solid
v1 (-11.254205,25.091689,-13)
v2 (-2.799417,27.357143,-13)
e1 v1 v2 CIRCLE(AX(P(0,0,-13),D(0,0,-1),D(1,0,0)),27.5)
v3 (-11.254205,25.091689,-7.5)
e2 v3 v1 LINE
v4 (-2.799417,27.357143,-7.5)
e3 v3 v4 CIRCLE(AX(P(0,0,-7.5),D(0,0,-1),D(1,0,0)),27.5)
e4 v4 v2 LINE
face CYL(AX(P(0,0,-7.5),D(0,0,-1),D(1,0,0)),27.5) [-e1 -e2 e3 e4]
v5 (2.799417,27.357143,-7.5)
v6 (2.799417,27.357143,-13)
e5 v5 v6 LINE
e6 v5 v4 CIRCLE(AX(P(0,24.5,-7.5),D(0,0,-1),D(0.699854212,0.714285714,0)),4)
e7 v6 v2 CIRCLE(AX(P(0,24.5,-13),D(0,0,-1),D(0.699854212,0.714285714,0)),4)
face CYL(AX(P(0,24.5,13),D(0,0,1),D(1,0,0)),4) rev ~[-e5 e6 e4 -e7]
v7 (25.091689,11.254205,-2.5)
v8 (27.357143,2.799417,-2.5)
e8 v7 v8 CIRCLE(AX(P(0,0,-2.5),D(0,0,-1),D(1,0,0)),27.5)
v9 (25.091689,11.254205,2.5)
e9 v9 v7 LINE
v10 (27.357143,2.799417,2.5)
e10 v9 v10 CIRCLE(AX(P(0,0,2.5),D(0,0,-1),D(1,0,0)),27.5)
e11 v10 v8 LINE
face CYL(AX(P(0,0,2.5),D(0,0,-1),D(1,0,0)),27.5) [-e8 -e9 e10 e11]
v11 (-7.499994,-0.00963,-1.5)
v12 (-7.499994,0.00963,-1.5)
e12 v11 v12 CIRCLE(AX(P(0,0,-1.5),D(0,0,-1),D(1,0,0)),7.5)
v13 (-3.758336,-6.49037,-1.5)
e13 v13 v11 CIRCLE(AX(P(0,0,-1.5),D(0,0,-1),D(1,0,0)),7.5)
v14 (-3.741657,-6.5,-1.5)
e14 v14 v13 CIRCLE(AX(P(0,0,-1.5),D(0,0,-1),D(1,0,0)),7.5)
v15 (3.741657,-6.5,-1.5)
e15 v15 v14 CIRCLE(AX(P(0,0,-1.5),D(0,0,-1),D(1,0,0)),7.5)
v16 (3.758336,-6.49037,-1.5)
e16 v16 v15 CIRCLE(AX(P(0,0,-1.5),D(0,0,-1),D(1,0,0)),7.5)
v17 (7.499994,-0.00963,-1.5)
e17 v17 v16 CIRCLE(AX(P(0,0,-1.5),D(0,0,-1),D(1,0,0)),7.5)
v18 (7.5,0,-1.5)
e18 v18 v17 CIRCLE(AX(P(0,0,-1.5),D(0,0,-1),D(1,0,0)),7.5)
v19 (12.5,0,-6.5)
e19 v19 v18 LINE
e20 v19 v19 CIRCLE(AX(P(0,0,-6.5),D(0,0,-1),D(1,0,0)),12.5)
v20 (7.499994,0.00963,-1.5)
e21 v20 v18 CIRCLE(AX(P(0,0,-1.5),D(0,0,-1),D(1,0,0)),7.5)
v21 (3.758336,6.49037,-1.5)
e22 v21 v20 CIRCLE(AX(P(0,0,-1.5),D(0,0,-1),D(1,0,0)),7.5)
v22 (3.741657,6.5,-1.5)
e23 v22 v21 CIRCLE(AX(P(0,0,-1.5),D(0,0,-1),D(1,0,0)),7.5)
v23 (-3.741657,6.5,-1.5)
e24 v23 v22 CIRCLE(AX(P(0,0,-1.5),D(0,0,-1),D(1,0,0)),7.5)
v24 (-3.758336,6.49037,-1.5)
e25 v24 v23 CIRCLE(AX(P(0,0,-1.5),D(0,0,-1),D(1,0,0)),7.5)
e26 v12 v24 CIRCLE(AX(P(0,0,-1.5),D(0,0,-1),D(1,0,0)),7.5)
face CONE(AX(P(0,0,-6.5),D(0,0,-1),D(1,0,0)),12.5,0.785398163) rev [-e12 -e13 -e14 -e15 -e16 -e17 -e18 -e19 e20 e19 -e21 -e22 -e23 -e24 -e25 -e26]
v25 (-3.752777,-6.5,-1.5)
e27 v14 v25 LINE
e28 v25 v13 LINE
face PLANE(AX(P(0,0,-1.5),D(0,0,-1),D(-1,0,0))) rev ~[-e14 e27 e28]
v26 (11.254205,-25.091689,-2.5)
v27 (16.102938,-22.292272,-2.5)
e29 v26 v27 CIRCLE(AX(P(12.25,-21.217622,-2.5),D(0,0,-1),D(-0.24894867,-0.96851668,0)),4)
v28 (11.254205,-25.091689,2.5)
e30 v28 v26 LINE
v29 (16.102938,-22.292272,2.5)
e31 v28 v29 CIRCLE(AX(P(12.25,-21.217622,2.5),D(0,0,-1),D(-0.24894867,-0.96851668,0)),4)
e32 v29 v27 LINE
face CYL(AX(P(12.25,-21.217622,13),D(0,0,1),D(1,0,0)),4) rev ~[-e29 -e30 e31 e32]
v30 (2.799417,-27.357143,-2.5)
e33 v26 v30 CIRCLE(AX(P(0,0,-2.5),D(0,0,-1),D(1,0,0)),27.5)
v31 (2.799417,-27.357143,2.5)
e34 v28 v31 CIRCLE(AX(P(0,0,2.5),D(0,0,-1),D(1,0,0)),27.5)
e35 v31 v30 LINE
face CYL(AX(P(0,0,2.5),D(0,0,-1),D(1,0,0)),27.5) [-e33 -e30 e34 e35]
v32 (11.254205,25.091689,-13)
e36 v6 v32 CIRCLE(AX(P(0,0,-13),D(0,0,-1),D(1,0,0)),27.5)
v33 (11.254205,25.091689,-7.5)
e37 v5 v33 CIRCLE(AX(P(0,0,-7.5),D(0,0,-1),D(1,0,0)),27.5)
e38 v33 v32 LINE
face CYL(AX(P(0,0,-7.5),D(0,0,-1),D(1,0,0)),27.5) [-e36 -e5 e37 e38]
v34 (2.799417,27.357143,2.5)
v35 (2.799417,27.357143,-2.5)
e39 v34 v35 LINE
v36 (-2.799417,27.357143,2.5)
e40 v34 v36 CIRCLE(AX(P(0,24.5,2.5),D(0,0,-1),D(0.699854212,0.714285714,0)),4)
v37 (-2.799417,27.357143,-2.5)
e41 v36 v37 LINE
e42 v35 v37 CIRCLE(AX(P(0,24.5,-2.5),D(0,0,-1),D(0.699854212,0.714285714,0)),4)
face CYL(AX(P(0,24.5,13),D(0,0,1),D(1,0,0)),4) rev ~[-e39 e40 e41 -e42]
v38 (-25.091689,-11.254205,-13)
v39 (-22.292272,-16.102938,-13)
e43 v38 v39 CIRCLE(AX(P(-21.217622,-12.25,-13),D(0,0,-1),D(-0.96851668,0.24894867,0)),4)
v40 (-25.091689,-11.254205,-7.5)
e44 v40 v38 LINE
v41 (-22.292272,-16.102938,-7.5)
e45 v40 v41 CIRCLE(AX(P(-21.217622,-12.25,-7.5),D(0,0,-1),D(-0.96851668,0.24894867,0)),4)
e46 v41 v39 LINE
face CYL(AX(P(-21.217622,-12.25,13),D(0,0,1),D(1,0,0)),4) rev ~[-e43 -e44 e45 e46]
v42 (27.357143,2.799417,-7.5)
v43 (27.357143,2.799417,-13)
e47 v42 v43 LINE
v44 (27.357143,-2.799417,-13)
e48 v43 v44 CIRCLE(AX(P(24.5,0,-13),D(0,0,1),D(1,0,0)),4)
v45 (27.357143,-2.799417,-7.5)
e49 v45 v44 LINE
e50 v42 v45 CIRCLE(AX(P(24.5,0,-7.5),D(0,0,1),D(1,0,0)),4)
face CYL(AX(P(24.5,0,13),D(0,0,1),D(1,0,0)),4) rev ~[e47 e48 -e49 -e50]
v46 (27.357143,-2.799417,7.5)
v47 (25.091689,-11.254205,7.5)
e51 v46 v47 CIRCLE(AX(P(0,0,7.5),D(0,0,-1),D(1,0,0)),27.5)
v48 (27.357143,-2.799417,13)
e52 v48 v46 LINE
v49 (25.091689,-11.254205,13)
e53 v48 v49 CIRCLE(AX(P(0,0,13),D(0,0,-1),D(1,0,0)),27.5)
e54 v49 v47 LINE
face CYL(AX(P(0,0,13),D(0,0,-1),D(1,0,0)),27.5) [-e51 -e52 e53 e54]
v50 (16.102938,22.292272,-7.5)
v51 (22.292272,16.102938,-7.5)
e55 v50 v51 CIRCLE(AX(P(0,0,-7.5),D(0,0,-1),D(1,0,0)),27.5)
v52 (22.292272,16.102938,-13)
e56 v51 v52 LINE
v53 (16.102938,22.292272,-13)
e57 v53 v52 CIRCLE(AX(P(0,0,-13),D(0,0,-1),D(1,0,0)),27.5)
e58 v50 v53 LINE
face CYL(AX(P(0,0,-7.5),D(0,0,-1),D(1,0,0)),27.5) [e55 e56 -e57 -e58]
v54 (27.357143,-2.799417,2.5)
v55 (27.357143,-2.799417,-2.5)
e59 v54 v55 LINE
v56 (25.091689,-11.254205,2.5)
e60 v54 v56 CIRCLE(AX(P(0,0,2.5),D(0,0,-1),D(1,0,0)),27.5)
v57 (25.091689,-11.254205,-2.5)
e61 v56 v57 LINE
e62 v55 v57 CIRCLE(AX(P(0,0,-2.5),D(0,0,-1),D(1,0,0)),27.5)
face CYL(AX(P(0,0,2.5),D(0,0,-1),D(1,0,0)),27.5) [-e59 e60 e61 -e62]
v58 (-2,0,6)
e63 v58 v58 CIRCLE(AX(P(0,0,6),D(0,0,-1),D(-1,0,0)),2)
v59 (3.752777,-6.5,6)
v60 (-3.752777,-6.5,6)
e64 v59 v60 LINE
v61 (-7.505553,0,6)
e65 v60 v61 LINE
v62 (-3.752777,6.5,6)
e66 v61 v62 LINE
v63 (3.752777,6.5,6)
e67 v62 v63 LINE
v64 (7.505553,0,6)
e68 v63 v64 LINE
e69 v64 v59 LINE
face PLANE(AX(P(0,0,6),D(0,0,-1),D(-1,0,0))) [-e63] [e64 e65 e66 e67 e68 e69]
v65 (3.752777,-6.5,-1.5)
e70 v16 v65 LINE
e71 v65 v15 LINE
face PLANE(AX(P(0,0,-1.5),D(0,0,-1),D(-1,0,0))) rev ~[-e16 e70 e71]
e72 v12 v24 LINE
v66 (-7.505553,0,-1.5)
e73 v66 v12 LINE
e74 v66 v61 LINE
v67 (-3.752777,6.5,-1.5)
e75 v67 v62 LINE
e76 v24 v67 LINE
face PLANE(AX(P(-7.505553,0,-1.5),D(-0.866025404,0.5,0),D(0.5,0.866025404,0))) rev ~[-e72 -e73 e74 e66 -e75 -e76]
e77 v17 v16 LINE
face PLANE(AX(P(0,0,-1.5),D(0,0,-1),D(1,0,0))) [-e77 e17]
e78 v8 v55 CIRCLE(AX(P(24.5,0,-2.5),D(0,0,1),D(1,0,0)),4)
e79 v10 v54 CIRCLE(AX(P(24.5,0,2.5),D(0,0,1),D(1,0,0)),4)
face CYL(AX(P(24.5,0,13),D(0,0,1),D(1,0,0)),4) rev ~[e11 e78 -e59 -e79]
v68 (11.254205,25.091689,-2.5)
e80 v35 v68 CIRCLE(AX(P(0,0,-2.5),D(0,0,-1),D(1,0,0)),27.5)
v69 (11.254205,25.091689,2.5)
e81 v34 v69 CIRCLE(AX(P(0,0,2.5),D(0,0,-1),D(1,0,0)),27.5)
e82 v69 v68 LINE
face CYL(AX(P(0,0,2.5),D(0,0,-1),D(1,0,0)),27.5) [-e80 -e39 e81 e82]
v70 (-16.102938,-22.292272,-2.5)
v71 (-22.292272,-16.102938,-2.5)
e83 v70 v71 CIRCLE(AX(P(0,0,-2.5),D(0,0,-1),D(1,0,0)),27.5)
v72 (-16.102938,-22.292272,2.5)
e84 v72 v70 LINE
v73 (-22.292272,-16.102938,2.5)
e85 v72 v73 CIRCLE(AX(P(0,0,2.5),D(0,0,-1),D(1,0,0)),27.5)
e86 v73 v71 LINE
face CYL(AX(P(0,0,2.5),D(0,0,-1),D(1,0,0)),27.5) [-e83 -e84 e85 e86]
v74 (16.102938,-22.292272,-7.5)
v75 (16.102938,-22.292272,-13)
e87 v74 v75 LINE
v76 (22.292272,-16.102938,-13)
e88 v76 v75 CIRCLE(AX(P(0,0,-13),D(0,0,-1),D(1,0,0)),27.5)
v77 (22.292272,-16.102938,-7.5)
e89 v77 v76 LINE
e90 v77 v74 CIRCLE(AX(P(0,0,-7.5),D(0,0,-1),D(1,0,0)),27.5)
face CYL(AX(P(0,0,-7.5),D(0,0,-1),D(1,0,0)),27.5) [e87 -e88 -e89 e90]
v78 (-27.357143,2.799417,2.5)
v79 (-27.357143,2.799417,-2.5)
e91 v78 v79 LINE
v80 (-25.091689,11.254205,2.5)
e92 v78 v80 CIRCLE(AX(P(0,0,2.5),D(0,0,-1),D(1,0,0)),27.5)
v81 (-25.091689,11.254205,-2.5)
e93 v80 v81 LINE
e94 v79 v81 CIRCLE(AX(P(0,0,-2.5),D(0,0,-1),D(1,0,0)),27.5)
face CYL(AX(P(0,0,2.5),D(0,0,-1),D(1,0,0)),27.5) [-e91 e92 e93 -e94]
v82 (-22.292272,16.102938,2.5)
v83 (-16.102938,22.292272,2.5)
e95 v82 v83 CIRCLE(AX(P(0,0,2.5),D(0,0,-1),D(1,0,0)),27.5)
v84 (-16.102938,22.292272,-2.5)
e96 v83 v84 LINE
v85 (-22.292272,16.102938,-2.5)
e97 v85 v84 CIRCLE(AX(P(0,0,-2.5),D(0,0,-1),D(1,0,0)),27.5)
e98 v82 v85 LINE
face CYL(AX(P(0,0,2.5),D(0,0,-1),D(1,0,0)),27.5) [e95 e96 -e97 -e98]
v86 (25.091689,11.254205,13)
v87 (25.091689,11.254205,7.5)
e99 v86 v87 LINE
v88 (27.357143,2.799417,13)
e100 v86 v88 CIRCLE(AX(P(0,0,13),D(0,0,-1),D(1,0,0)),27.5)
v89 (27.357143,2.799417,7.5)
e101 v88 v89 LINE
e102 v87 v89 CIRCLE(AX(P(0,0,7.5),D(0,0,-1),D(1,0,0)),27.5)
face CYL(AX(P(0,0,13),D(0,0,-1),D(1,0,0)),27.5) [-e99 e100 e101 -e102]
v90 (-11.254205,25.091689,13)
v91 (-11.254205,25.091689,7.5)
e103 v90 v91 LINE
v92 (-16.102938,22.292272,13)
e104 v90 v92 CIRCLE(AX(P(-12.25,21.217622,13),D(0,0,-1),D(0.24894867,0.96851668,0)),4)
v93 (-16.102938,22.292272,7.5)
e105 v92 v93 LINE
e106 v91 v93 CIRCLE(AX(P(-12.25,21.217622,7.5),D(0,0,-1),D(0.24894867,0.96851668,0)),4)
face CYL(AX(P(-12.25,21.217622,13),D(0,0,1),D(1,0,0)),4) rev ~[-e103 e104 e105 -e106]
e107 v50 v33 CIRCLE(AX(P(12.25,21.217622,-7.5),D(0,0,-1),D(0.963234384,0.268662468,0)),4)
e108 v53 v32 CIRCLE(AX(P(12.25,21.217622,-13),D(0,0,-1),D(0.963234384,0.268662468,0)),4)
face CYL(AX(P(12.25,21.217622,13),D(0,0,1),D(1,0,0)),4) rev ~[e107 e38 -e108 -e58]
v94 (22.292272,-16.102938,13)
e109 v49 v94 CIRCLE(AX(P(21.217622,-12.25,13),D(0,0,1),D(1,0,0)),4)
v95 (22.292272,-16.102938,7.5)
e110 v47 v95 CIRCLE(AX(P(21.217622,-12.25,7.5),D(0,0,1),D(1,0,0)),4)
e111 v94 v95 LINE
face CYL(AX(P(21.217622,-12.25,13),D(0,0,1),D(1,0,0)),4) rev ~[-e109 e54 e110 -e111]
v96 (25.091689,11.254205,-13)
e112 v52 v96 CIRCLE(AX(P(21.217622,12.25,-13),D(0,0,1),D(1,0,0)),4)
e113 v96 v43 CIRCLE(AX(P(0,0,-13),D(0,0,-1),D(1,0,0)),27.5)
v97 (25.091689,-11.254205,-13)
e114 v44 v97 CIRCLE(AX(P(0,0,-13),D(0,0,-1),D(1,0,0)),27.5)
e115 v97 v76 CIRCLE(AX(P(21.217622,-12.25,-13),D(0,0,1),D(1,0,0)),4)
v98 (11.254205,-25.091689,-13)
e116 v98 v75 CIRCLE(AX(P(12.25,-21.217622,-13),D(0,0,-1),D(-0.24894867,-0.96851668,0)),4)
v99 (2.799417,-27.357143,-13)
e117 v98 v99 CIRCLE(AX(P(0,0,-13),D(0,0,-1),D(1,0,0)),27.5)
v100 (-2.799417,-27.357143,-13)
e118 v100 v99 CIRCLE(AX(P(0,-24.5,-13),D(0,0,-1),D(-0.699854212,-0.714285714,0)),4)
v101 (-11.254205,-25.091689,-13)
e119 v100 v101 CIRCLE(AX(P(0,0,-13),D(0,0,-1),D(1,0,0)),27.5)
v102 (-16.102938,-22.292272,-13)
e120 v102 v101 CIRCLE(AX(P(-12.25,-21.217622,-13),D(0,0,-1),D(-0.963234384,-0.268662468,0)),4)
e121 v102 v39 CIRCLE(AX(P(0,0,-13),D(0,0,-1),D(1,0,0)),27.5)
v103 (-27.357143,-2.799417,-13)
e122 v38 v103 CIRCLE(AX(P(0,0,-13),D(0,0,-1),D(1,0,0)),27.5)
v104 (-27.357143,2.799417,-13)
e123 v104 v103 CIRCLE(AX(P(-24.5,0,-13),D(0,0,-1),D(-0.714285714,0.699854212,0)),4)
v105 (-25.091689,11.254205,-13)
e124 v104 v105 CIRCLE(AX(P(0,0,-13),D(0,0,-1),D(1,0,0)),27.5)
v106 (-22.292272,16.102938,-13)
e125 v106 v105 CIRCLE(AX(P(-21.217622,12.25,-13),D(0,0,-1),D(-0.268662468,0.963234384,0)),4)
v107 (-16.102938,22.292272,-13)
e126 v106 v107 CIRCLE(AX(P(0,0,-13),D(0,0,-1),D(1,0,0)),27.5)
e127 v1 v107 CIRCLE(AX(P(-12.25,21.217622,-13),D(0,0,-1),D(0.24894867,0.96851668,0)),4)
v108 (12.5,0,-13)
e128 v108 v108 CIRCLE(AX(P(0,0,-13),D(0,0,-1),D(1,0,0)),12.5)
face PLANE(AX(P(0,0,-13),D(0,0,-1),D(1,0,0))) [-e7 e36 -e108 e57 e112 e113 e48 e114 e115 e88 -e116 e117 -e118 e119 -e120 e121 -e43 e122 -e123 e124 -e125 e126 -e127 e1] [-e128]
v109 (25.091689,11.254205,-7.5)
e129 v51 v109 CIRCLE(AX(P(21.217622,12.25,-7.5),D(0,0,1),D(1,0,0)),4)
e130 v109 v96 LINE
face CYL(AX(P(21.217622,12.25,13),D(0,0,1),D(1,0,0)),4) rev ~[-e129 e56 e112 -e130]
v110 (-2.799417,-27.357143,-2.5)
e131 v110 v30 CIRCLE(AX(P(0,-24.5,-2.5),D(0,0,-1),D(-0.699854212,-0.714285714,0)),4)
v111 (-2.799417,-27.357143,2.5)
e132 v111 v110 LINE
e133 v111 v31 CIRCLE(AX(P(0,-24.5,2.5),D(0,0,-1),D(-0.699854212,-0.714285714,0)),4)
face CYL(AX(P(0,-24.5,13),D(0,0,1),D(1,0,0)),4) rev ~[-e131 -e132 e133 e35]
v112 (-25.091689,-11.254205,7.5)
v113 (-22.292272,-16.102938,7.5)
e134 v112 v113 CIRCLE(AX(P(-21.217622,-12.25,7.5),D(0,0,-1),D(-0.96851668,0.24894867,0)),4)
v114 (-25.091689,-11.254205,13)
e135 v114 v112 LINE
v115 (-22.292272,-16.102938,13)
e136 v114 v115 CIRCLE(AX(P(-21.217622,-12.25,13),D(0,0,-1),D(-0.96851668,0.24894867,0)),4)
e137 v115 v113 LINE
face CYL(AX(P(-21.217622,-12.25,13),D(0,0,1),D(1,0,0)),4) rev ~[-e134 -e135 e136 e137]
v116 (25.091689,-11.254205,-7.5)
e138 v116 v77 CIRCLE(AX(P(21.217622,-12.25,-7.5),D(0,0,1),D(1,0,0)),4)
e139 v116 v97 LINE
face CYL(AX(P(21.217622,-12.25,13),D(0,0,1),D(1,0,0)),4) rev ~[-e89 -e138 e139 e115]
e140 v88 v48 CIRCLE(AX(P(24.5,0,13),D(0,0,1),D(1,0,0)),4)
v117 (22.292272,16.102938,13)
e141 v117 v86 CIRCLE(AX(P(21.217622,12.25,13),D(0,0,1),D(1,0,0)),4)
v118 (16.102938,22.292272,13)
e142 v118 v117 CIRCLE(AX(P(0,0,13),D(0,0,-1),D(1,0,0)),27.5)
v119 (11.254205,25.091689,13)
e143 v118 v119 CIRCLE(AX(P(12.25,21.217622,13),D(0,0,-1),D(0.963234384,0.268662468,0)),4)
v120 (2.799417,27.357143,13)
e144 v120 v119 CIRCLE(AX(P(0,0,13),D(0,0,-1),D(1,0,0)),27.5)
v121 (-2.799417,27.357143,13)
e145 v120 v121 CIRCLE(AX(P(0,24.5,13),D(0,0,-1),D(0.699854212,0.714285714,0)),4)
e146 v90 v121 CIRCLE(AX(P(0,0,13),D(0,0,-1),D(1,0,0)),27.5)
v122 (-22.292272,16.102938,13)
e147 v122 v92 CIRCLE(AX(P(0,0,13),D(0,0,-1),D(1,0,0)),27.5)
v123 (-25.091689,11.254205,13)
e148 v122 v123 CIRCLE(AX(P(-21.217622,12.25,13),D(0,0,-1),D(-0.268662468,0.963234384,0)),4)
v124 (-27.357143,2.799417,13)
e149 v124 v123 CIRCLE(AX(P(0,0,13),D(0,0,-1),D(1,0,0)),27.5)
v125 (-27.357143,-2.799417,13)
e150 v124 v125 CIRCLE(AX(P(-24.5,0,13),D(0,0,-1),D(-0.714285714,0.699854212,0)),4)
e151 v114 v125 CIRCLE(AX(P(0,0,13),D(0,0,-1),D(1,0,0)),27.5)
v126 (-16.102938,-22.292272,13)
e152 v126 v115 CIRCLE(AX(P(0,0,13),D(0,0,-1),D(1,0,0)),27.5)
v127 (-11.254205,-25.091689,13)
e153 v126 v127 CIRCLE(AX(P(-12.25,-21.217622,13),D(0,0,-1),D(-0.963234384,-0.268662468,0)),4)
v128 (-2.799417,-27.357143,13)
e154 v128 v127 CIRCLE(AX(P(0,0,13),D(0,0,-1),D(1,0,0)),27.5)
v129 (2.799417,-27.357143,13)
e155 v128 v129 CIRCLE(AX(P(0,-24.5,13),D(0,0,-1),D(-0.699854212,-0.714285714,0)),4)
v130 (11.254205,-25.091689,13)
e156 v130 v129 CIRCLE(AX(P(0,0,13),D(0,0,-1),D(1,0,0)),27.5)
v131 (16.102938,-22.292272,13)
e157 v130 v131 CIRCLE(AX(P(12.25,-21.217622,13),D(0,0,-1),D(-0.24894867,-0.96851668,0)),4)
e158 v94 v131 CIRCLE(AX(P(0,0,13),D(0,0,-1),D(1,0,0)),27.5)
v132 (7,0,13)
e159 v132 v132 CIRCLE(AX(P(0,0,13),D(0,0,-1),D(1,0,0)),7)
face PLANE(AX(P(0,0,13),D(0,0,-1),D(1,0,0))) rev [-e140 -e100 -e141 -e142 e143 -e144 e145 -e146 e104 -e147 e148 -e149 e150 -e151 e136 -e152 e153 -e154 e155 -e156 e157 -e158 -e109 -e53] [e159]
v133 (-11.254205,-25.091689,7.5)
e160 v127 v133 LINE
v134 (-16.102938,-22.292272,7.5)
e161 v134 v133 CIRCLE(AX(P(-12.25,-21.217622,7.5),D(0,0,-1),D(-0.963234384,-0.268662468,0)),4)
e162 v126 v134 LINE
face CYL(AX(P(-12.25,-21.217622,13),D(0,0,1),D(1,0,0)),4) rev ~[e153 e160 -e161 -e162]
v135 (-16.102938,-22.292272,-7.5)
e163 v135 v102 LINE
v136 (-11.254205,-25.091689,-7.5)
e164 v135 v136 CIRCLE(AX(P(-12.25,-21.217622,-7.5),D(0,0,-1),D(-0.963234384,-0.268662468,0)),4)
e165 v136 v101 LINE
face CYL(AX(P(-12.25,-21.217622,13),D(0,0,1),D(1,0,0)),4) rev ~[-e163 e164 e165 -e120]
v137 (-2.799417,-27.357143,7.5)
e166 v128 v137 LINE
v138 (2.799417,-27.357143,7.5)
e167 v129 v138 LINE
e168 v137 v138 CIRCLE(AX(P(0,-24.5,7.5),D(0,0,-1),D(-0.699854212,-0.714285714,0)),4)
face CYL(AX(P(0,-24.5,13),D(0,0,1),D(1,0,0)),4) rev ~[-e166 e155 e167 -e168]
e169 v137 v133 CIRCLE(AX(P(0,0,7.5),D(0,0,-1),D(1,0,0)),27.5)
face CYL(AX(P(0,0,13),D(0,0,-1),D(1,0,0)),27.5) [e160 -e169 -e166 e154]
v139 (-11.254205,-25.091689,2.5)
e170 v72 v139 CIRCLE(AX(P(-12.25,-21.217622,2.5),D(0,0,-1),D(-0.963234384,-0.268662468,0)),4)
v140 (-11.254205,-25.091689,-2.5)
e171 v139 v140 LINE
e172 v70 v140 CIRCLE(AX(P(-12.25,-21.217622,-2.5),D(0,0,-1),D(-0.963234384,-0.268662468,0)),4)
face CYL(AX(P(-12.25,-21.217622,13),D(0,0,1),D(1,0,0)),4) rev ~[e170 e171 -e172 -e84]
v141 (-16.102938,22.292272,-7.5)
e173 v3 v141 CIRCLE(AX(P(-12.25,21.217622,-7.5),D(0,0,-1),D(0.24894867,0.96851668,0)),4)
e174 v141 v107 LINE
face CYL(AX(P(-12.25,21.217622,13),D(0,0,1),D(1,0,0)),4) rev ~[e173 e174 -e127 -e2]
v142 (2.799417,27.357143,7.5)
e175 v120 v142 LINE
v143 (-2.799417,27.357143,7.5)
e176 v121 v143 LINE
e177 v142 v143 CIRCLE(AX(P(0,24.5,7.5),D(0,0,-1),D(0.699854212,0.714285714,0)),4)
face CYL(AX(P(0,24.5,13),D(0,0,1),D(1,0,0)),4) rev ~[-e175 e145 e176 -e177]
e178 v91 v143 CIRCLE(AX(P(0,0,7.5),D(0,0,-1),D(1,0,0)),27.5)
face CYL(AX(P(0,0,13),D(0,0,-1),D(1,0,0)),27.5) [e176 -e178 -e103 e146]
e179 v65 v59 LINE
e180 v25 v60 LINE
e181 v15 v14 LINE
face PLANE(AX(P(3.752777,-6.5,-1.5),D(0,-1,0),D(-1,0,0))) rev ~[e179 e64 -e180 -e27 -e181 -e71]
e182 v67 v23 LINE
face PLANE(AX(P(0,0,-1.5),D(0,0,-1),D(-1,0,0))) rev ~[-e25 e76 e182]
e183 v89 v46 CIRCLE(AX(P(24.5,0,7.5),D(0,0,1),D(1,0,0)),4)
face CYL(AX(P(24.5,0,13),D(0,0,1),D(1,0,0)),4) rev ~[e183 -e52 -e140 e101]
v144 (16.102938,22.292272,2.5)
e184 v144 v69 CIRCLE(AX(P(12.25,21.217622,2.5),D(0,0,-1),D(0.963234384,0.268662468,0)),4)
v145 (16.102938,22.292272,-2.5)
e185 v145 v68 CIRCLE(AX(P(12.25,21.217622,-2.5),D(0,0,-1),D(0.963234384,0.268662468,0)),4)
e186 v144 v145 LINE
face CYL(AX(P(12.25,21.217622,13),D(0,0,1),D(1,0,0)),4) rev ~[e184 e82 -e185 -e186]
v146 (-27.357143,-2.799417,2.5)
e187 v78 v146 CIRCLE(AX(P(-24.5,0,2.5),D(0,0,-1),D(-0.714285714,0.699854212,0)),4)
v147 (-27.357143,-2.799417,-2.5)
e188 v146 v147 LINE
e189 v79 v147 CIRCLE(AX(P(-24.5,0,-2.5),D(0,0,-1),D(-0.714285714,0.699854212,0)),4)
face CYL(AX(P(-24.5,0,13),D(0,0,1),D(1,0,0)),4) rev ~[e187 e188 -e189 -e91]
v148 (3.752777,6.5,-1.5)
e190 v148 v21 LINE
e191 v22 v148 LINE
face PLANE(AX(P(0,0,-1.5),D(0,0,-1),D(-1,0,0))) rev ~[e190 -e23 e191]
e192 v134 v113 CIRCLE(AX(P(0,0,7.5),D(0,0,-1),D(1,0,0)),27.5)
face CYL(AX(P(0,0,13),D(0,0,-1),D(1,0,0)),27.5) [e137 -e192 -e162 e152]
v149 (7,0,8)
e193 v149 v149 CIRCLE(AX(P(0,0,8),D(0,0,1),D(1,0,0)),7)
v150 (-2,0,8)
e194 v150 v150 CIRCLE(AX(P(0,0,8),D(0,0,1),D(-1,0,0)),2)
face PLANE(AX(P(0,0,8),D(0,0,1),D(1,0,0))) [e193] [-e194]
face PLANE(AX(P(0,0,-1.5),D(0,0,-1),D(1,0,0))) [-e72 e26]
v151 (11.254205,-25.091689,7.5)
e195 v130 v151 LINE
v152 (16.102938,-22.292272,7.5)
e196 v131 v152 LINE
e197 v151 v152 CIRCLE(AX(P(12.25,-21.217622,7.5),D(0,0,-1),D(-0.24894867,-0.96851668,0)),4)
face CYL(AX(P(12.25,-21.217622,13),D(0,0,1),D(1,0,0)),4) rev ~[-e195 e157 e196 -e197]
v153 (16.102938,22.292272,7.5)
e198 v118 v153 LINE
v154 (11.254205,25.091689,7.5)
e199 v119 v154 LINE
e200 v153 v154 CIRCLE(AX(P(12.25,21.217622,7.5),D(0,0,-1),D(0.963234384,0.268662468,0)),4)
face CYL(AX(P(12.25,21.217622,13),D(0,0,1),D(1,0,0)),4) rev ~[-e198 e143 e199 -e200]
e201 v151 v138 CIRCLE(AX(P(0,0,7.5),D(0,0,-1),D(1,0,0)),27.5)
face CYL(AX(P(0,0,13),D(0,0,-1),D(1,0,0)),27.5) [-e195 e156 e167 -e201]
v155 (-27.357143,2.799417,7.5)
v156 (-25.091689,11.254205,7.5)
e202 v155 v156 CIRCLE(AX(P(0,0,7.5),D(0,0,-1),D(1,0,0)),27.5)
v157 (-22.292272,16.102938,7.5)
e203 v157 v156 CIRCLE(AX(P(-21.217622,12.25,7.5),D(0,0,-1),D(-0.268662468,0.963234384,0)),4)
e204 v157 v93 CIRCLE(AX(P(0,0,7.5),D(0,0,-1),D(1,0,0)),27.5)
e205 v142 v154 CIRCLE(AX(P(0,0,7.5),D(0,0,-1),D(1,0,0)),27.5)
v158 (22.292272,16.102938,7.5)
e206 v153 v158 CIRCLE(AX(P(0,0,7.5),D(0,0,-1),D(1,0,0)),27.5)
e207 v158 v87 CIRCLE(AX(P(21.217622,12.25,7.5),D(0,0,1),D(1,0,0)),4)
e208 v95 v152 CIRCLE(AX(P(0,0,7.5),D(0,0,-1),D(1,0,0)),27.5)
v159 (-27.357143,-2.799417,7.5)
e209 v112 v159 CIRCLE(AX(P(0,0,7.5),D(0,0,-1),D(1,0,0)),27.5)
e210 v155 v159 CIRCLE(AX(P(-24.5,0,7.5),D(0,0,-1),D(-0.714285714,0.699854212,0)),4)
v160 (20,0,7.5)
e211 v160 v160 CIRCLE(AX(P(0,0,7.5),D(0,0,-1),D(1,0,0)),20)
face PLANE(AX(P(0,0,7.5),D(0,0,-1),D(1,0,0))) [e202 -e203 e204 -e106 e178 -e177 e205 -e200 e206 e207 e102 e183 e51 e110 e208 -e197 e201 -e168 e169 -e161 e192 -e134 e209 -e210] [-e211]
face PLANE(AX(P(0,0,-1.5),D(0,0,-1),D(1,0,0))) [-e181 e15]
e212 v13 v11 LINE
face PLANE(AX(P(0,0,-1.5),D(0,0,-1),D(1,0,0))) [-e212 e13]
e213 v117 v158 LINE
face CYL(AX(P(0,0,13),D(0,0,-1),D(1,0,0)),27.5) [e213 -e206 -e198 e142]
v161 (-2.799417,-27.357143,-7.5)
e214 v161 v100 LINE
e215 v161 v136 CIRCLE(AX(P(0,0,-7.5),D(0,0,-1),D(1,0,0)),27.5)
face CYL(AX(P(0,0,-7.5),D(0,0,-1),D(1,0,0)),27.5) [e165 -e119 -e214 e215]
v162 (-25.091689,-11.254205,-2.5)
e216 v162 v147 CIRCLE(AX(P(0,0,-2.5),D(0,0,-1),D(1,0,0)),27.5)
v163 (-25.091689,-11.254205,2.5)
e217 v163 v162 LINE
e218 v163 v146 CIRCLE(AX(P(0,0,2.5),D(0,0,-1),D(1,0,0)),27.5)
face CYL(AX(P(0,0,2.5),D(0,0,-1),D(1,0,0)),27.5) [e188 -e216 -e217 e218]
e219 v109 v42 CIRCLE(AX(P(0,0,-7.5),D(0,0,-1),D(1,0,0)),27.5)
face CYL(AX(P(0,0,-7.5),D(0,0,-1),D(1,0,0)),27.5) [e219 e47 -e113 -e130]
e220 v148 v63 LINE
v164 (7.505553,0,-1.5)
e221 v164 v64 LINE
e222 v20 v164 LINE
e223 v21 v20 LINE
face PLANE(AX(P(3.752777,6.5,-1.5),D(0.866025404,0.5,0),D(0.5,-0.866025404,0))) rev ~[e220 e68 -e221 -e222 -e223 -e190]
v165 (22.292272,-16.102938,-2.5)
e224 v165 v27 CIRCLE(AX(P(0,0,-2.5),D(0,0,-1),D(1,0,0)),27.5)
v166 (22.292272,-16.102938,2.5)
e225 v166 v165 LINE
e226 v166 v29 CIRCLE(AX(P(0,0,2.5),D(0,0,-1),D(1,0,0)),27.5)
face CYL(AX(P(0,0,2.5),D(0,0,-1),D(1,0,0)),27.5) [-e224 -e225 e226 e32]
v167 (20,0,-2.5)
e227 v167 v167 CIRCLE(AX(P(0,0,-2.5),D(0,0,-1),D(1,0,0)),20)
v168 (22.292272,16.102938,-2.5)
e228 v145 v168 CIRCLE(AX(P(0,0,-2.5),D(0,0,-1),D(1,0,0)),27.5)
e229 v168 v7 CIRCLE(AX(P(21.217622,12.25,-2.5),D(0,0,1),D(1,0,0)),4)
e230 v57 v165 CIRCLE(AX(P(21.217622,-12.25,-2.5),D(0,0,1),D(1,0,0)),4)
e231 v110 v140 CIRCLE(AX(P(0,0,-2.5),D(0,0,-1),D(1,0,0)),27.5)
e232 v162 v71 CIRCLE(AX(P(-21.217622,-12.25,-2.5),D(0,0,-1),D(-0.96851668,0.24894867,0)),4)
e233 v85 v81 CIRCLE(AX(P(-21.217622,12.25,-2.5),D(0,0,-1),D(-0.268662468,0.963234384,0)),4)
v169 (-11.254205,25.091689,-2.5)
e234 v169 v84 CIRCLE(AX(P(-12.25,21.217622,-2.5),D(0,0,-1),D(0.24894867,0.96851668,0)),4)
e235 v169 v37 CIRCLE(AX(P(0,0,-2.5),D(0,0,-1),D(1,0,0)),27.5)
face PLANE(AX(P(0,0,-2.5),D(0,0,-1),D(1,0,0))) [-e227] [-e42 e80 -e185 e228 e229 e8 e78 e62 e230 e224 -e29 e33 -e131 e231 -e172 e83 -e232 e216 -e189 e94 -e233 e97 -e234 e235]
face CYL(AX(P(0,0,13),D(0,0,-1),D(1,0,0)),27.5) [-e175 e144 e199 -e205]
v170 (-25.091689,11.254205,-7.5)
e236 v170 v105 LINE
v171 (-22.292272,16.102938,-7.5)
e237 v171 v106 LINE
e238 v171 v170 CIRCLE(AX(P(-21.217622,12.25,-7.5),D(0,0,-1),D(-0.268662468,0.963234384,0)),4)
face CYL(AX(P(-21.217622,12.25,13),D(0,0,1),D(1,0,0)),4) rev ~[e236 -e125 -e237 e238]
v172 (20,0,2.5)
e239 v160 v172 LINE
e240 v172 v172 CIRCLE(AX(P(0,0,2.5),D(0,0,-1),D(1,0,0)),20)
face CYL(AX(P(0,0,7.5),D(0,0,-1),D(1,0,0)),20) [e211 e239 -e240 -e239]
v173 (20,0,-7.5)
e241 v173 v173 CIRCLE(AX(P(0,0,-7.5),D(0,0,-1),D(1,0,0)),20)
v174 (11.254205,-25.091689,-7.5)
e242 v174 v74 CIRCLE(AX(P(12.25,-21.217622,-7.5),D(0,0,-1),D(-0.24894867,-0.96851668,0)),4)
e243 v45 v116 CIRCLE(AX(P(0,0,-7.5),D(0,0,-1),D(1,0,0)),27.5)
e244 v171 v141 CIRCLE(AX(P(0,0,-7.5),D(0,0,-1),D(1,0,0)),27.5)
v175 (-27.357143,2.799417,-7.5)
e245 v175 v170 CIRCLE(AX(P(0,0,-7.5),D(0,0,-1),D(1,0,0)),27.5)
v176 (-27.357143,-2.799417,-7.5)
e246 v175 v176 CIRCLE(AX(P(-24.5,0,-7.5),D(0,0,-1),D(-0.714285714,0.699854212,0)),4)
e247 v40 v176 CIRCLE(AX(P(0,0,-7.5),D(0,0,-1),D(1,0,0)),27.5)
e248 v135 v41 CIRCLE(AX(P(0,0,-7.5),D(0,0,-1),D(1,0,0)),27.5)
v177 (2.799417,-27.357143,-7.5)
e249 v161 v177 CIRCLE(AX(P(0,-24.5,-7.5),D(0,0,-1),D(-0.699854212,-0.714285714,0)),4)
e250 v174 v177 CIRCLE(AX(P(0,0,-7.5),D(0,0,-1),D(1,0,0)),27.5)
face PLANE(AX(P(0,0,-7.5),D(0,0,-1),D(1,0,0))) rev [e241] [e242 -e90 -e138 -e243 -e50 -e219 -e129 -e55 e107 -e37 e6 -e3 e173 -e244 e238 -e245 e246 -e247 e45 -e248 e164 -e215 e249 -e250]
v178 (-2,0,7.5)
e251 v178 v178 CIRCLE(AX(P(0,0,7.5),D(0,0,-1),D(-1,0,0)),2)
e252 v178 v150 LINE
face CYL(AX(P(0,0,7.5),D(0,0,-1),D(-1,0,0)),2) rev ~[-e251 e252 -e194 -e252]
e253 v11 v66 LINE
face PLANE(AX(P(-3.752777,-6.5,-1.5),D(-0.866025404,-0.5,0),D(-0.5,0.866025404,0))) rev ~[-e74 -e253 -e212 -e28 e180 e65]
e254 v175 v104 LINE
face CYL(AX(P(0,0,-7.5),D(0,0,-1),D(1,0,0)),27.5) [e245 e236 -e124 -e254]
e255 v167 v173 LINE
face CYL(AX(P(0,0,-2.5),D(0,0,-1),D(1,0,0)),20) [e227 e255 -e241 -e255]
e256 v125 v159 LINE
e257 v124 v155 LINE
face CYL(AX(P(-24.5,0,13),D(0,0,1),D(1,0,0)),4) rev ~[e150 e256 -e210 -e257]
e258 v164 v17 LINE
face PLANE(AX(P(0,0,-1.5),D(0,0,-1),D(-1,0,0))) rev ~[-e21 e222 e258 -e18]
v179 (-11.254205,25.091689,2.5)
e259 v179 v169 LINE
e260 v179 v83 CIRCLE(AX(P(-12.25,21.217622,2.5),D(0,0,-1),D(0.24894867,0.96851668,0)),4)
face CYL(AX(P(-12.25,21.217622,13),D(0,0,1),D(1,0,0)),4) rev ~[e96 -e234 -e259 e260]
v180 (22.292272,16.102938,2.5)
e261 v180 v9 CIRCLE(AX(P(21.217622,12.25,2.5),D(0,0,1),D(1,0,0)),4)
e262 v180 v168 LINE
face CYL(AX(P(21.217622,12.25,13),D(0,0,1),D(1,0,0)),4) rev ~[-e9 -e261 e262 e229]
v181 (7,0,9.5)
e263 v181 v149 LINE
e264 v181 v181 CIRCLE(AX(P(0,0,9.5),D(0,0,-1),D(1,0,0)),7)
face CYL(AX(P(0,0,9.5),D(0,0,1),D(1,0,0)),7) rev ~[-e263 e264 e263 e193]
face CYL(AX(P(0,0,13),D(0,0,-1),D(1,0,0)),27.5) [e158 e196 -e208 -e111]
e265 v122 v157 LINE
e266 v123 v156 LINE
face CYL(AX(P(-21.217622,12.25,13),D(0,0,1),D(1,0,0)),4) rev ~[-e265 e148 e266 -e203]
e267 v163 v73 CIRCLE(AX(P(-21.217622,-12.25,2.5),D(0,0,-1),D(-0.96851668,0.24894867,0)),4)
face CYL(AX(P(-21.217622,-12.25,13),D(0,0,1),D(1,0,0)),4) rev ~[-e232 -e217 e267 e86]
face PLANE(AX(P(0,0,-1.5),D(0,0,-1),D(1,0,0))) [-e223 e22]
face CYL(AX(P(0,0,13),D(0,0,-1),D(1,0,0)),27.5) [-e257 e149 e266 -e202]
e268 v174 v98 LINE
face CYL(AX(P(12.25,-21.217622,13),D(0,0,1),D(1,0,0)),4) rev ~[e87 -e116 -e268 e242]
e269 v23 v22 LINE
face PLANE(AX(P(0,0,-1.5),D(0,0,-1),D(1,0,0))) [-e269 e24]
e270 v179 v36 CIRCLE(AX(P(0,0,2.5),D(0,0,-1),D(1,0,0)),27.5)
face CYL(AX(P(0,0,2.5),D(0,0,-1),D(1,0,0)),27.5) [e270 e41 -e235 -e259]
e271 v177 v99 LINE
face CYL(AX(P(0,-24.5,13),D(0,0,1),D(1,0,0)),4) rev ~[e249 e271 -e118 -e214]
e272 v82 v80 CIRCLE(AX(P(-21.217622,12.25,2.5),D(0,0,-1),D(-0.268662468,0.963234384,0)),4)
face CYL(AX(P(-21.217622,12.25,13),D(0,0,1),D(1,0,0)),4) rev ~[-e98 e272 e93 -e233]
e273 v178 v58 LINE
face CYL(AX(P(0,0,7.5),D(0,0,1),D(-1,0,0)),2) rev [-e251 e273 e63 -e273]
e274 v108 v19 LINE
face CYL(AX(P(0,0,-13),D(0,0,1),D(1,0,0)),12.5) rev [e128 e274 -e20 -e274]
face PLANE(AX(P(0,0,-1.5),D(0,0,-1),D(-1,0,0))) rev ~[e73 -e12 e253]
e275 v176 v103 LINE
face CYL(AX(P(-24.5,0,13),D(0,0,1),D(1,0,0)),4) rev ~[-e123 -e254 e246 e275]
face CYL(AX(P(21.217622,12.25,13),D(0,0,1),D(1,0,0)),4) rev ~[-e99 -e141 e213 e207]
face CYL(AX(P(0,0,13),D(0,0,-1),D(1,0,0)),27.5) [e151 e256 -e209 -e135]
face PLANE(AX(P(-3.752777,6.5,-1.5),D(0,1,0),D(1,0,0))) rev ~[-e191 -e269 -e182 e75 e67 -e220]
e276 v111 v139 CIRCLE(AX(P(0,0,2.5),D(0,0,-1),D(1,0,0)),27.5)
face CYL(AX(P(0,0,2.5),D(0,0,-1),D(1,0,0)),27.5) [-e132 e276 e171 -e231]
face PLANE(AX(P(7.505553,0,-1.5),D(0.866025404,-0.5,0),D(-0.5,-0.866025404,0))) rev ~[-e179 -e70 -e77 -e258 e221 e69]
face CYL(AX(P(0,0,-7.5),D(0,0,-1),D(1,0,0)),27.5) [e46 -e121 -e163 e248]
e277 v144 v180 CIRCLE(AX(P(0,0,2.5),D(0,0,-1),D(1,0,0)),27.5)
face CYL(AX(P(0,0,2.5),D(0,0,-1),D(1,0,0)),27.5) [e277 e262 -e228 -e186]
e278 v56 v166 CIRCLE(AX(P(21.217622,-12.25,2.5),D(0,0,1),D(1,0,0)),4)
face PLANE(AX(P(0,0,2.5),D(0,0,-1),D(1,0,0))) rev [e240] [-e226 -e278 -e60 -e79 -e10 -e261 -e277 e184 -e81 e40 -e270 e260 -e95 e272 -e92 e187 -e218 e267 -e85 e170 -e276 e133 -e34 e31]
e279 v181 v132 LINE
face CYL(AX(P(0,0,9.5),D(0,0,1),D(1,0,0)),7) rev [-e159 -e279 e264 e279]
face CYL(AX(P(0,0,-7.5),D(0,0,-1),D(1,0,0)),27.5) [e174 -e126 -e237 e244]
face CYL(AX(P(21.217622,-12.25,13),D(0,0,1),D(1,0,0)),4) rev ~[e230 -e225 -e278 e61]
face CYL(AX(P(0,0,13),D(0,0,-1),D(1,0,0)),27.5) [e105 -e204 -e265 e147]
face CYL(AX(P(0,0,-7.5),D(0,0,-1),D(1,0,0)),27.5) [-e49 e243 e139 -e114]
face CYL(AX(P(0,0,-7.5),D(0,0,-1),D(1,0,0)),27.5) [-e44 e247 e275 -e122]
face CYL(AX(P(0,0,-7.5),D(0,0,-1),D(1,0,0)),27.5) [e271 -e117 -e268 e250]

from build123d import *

# Parameters (mm, degrees)
CORTAR_EXTRUIR1_DEPTH   = 9
CROQUIS5_R              = 4
CORTAR_EXTRUIR3_DEPTH   = 27
CROQUIS6_R              = 2
CORTAR_EXTRUIR4_DEPTH   = 10
CROQUIS7_R              = 2
SALIENTE_EXTRUIR1_DEPTH = 1.5
CROQUIS8_R              = 7
CROQUIS8_R_2            = 2
CORTAR_EXTRUIR5_DEPTH   = 1.5


with BuildPart() as part:
    # Croquis1 → Revolución1 (revolve)
    with BuildSketch(Plane(origin=(0, 0, 0), x_dir=(1, 0, 0), z_dir=(0, 1, 0))):
        Polygon((0, 1.5), (0, -9.5), (7, -9.5), (7, -13), (12.5, -13), (27.5, -13), (27.5, -7.5), (20, -7.5), (20, -2.5), (27.5, -2.5), (27.5, 2.5), (20, 2.5), (20, 7.5), (27.5, 7.5), (27.5, 13), (12.5, 13), (12.5, 6.5), (7.5, 1.5), align=None)
    revolve(axis=Axis((0, 0, 0), (0, 0, -1)))

    # Croquis2 → Cortar-Extruir1 (cut)
    with BuildSketch(Plane(origin=(0, 0, -1.5), x_dir=(-1, 0, 0), z_dir=(0, 0, -1))):
        Polygon((7.505553499, 0), (3.75277675, 6.5), (-3.75277675, 6.5), (-7.505553499, 0), (-3.75277675, -6.5), (3.75277675, -6.5), align=None)
    extrude(amount=-CORTAR_EXTRUIR1_DEPTH, mode=Mode.SUBTRACT)

    # Croquis5 → Cortar-Extruir3 (cut, through all)
    with BuildSketch(Plane.XY.offset(13)):
        with Locations((0, 24.5)):
            Circle(CROQUIS5_R)
        with Locations((12.25, 21.217622393)):
            Circle(CROQUIS5_R)
        with Locations((21.217622393, 12.25)):
            Circle(CROQUIS5_R)
        with Locations((24.5, 0)):
            Circle(CROQUIS5_R)
        with Locations((21.217622393, -12.25)):
            Circle(CROQUIS5_R)
        with Locations((12.25, -21.217622393)):
            Circle(CROQUIS5_R)
        with Locations((0, -24.5)):
            Circle(CROQUIS5_R)
        with Locations((-12.25, -21.217622393)):
            Circle(CROQUIS5_R)
        with Locations((-21.217622393, -12.25)):
            Circle(CROQUIS5_R)
        with Locations((-24.5, 0)):
            Circle(CROQUIS5_R)
        with Locations((-21.217622393, 12.25)):
            Circle(CROQUIS5_R)
        with Locations((-12.25, 21.217622393)):
            Circle(CROQUIS5_R)
    extrude(amount=-CORTAR_EXTRUIR3_DEPTH, mode=Mode.SUBTRACT)

    # Croquis6 → Cortar-Extruir4 (cut)
    with BuildSketch(Plane(origin=(0, 0, 7.5), x_dir=(-1, 0, 0), z_dir=(0, 0, -1))):
        Circle(CROQUIS6_R)
    extrude(amount=-CORTAR_EXTRUIR4_DEPTH, mode=Mode.SUBTRACT)

    # Croquis7 → Saliente-Extruir1 (add)
    with BuildSketch(Plane(origin=(0, 0, 7.5), x_dir=(-1, 0, 0), z_dir=(0, 0, -1))):
        Polygon((3.75277675, -6.5), (7.505553499, 0), (3.75277675, 6.5), (-3.75277675, 6.5), (-7.505553499, 0), (-3.75277675, -6.5), align=None)
        Circle(CROQUIS7_R, mode=Mode.SUBTRACT)
    extrude(amount=SALIENTE_EXTRUIR1_DEPTH)

    # Croquis8 → Cortar-Extruir5 (cut)
    with BuildSketch(Plane.XY.offset(9.5)):
        Circle(CROQUIS8_R)
        Circle(CROQUIS8_R_2, mode=Mode.SUBTRACT)
    extrude(amount=-CORTAR_EXTRUIR5_DEPTH, mode=Mode.SUBTRACT)


solid = part.part
